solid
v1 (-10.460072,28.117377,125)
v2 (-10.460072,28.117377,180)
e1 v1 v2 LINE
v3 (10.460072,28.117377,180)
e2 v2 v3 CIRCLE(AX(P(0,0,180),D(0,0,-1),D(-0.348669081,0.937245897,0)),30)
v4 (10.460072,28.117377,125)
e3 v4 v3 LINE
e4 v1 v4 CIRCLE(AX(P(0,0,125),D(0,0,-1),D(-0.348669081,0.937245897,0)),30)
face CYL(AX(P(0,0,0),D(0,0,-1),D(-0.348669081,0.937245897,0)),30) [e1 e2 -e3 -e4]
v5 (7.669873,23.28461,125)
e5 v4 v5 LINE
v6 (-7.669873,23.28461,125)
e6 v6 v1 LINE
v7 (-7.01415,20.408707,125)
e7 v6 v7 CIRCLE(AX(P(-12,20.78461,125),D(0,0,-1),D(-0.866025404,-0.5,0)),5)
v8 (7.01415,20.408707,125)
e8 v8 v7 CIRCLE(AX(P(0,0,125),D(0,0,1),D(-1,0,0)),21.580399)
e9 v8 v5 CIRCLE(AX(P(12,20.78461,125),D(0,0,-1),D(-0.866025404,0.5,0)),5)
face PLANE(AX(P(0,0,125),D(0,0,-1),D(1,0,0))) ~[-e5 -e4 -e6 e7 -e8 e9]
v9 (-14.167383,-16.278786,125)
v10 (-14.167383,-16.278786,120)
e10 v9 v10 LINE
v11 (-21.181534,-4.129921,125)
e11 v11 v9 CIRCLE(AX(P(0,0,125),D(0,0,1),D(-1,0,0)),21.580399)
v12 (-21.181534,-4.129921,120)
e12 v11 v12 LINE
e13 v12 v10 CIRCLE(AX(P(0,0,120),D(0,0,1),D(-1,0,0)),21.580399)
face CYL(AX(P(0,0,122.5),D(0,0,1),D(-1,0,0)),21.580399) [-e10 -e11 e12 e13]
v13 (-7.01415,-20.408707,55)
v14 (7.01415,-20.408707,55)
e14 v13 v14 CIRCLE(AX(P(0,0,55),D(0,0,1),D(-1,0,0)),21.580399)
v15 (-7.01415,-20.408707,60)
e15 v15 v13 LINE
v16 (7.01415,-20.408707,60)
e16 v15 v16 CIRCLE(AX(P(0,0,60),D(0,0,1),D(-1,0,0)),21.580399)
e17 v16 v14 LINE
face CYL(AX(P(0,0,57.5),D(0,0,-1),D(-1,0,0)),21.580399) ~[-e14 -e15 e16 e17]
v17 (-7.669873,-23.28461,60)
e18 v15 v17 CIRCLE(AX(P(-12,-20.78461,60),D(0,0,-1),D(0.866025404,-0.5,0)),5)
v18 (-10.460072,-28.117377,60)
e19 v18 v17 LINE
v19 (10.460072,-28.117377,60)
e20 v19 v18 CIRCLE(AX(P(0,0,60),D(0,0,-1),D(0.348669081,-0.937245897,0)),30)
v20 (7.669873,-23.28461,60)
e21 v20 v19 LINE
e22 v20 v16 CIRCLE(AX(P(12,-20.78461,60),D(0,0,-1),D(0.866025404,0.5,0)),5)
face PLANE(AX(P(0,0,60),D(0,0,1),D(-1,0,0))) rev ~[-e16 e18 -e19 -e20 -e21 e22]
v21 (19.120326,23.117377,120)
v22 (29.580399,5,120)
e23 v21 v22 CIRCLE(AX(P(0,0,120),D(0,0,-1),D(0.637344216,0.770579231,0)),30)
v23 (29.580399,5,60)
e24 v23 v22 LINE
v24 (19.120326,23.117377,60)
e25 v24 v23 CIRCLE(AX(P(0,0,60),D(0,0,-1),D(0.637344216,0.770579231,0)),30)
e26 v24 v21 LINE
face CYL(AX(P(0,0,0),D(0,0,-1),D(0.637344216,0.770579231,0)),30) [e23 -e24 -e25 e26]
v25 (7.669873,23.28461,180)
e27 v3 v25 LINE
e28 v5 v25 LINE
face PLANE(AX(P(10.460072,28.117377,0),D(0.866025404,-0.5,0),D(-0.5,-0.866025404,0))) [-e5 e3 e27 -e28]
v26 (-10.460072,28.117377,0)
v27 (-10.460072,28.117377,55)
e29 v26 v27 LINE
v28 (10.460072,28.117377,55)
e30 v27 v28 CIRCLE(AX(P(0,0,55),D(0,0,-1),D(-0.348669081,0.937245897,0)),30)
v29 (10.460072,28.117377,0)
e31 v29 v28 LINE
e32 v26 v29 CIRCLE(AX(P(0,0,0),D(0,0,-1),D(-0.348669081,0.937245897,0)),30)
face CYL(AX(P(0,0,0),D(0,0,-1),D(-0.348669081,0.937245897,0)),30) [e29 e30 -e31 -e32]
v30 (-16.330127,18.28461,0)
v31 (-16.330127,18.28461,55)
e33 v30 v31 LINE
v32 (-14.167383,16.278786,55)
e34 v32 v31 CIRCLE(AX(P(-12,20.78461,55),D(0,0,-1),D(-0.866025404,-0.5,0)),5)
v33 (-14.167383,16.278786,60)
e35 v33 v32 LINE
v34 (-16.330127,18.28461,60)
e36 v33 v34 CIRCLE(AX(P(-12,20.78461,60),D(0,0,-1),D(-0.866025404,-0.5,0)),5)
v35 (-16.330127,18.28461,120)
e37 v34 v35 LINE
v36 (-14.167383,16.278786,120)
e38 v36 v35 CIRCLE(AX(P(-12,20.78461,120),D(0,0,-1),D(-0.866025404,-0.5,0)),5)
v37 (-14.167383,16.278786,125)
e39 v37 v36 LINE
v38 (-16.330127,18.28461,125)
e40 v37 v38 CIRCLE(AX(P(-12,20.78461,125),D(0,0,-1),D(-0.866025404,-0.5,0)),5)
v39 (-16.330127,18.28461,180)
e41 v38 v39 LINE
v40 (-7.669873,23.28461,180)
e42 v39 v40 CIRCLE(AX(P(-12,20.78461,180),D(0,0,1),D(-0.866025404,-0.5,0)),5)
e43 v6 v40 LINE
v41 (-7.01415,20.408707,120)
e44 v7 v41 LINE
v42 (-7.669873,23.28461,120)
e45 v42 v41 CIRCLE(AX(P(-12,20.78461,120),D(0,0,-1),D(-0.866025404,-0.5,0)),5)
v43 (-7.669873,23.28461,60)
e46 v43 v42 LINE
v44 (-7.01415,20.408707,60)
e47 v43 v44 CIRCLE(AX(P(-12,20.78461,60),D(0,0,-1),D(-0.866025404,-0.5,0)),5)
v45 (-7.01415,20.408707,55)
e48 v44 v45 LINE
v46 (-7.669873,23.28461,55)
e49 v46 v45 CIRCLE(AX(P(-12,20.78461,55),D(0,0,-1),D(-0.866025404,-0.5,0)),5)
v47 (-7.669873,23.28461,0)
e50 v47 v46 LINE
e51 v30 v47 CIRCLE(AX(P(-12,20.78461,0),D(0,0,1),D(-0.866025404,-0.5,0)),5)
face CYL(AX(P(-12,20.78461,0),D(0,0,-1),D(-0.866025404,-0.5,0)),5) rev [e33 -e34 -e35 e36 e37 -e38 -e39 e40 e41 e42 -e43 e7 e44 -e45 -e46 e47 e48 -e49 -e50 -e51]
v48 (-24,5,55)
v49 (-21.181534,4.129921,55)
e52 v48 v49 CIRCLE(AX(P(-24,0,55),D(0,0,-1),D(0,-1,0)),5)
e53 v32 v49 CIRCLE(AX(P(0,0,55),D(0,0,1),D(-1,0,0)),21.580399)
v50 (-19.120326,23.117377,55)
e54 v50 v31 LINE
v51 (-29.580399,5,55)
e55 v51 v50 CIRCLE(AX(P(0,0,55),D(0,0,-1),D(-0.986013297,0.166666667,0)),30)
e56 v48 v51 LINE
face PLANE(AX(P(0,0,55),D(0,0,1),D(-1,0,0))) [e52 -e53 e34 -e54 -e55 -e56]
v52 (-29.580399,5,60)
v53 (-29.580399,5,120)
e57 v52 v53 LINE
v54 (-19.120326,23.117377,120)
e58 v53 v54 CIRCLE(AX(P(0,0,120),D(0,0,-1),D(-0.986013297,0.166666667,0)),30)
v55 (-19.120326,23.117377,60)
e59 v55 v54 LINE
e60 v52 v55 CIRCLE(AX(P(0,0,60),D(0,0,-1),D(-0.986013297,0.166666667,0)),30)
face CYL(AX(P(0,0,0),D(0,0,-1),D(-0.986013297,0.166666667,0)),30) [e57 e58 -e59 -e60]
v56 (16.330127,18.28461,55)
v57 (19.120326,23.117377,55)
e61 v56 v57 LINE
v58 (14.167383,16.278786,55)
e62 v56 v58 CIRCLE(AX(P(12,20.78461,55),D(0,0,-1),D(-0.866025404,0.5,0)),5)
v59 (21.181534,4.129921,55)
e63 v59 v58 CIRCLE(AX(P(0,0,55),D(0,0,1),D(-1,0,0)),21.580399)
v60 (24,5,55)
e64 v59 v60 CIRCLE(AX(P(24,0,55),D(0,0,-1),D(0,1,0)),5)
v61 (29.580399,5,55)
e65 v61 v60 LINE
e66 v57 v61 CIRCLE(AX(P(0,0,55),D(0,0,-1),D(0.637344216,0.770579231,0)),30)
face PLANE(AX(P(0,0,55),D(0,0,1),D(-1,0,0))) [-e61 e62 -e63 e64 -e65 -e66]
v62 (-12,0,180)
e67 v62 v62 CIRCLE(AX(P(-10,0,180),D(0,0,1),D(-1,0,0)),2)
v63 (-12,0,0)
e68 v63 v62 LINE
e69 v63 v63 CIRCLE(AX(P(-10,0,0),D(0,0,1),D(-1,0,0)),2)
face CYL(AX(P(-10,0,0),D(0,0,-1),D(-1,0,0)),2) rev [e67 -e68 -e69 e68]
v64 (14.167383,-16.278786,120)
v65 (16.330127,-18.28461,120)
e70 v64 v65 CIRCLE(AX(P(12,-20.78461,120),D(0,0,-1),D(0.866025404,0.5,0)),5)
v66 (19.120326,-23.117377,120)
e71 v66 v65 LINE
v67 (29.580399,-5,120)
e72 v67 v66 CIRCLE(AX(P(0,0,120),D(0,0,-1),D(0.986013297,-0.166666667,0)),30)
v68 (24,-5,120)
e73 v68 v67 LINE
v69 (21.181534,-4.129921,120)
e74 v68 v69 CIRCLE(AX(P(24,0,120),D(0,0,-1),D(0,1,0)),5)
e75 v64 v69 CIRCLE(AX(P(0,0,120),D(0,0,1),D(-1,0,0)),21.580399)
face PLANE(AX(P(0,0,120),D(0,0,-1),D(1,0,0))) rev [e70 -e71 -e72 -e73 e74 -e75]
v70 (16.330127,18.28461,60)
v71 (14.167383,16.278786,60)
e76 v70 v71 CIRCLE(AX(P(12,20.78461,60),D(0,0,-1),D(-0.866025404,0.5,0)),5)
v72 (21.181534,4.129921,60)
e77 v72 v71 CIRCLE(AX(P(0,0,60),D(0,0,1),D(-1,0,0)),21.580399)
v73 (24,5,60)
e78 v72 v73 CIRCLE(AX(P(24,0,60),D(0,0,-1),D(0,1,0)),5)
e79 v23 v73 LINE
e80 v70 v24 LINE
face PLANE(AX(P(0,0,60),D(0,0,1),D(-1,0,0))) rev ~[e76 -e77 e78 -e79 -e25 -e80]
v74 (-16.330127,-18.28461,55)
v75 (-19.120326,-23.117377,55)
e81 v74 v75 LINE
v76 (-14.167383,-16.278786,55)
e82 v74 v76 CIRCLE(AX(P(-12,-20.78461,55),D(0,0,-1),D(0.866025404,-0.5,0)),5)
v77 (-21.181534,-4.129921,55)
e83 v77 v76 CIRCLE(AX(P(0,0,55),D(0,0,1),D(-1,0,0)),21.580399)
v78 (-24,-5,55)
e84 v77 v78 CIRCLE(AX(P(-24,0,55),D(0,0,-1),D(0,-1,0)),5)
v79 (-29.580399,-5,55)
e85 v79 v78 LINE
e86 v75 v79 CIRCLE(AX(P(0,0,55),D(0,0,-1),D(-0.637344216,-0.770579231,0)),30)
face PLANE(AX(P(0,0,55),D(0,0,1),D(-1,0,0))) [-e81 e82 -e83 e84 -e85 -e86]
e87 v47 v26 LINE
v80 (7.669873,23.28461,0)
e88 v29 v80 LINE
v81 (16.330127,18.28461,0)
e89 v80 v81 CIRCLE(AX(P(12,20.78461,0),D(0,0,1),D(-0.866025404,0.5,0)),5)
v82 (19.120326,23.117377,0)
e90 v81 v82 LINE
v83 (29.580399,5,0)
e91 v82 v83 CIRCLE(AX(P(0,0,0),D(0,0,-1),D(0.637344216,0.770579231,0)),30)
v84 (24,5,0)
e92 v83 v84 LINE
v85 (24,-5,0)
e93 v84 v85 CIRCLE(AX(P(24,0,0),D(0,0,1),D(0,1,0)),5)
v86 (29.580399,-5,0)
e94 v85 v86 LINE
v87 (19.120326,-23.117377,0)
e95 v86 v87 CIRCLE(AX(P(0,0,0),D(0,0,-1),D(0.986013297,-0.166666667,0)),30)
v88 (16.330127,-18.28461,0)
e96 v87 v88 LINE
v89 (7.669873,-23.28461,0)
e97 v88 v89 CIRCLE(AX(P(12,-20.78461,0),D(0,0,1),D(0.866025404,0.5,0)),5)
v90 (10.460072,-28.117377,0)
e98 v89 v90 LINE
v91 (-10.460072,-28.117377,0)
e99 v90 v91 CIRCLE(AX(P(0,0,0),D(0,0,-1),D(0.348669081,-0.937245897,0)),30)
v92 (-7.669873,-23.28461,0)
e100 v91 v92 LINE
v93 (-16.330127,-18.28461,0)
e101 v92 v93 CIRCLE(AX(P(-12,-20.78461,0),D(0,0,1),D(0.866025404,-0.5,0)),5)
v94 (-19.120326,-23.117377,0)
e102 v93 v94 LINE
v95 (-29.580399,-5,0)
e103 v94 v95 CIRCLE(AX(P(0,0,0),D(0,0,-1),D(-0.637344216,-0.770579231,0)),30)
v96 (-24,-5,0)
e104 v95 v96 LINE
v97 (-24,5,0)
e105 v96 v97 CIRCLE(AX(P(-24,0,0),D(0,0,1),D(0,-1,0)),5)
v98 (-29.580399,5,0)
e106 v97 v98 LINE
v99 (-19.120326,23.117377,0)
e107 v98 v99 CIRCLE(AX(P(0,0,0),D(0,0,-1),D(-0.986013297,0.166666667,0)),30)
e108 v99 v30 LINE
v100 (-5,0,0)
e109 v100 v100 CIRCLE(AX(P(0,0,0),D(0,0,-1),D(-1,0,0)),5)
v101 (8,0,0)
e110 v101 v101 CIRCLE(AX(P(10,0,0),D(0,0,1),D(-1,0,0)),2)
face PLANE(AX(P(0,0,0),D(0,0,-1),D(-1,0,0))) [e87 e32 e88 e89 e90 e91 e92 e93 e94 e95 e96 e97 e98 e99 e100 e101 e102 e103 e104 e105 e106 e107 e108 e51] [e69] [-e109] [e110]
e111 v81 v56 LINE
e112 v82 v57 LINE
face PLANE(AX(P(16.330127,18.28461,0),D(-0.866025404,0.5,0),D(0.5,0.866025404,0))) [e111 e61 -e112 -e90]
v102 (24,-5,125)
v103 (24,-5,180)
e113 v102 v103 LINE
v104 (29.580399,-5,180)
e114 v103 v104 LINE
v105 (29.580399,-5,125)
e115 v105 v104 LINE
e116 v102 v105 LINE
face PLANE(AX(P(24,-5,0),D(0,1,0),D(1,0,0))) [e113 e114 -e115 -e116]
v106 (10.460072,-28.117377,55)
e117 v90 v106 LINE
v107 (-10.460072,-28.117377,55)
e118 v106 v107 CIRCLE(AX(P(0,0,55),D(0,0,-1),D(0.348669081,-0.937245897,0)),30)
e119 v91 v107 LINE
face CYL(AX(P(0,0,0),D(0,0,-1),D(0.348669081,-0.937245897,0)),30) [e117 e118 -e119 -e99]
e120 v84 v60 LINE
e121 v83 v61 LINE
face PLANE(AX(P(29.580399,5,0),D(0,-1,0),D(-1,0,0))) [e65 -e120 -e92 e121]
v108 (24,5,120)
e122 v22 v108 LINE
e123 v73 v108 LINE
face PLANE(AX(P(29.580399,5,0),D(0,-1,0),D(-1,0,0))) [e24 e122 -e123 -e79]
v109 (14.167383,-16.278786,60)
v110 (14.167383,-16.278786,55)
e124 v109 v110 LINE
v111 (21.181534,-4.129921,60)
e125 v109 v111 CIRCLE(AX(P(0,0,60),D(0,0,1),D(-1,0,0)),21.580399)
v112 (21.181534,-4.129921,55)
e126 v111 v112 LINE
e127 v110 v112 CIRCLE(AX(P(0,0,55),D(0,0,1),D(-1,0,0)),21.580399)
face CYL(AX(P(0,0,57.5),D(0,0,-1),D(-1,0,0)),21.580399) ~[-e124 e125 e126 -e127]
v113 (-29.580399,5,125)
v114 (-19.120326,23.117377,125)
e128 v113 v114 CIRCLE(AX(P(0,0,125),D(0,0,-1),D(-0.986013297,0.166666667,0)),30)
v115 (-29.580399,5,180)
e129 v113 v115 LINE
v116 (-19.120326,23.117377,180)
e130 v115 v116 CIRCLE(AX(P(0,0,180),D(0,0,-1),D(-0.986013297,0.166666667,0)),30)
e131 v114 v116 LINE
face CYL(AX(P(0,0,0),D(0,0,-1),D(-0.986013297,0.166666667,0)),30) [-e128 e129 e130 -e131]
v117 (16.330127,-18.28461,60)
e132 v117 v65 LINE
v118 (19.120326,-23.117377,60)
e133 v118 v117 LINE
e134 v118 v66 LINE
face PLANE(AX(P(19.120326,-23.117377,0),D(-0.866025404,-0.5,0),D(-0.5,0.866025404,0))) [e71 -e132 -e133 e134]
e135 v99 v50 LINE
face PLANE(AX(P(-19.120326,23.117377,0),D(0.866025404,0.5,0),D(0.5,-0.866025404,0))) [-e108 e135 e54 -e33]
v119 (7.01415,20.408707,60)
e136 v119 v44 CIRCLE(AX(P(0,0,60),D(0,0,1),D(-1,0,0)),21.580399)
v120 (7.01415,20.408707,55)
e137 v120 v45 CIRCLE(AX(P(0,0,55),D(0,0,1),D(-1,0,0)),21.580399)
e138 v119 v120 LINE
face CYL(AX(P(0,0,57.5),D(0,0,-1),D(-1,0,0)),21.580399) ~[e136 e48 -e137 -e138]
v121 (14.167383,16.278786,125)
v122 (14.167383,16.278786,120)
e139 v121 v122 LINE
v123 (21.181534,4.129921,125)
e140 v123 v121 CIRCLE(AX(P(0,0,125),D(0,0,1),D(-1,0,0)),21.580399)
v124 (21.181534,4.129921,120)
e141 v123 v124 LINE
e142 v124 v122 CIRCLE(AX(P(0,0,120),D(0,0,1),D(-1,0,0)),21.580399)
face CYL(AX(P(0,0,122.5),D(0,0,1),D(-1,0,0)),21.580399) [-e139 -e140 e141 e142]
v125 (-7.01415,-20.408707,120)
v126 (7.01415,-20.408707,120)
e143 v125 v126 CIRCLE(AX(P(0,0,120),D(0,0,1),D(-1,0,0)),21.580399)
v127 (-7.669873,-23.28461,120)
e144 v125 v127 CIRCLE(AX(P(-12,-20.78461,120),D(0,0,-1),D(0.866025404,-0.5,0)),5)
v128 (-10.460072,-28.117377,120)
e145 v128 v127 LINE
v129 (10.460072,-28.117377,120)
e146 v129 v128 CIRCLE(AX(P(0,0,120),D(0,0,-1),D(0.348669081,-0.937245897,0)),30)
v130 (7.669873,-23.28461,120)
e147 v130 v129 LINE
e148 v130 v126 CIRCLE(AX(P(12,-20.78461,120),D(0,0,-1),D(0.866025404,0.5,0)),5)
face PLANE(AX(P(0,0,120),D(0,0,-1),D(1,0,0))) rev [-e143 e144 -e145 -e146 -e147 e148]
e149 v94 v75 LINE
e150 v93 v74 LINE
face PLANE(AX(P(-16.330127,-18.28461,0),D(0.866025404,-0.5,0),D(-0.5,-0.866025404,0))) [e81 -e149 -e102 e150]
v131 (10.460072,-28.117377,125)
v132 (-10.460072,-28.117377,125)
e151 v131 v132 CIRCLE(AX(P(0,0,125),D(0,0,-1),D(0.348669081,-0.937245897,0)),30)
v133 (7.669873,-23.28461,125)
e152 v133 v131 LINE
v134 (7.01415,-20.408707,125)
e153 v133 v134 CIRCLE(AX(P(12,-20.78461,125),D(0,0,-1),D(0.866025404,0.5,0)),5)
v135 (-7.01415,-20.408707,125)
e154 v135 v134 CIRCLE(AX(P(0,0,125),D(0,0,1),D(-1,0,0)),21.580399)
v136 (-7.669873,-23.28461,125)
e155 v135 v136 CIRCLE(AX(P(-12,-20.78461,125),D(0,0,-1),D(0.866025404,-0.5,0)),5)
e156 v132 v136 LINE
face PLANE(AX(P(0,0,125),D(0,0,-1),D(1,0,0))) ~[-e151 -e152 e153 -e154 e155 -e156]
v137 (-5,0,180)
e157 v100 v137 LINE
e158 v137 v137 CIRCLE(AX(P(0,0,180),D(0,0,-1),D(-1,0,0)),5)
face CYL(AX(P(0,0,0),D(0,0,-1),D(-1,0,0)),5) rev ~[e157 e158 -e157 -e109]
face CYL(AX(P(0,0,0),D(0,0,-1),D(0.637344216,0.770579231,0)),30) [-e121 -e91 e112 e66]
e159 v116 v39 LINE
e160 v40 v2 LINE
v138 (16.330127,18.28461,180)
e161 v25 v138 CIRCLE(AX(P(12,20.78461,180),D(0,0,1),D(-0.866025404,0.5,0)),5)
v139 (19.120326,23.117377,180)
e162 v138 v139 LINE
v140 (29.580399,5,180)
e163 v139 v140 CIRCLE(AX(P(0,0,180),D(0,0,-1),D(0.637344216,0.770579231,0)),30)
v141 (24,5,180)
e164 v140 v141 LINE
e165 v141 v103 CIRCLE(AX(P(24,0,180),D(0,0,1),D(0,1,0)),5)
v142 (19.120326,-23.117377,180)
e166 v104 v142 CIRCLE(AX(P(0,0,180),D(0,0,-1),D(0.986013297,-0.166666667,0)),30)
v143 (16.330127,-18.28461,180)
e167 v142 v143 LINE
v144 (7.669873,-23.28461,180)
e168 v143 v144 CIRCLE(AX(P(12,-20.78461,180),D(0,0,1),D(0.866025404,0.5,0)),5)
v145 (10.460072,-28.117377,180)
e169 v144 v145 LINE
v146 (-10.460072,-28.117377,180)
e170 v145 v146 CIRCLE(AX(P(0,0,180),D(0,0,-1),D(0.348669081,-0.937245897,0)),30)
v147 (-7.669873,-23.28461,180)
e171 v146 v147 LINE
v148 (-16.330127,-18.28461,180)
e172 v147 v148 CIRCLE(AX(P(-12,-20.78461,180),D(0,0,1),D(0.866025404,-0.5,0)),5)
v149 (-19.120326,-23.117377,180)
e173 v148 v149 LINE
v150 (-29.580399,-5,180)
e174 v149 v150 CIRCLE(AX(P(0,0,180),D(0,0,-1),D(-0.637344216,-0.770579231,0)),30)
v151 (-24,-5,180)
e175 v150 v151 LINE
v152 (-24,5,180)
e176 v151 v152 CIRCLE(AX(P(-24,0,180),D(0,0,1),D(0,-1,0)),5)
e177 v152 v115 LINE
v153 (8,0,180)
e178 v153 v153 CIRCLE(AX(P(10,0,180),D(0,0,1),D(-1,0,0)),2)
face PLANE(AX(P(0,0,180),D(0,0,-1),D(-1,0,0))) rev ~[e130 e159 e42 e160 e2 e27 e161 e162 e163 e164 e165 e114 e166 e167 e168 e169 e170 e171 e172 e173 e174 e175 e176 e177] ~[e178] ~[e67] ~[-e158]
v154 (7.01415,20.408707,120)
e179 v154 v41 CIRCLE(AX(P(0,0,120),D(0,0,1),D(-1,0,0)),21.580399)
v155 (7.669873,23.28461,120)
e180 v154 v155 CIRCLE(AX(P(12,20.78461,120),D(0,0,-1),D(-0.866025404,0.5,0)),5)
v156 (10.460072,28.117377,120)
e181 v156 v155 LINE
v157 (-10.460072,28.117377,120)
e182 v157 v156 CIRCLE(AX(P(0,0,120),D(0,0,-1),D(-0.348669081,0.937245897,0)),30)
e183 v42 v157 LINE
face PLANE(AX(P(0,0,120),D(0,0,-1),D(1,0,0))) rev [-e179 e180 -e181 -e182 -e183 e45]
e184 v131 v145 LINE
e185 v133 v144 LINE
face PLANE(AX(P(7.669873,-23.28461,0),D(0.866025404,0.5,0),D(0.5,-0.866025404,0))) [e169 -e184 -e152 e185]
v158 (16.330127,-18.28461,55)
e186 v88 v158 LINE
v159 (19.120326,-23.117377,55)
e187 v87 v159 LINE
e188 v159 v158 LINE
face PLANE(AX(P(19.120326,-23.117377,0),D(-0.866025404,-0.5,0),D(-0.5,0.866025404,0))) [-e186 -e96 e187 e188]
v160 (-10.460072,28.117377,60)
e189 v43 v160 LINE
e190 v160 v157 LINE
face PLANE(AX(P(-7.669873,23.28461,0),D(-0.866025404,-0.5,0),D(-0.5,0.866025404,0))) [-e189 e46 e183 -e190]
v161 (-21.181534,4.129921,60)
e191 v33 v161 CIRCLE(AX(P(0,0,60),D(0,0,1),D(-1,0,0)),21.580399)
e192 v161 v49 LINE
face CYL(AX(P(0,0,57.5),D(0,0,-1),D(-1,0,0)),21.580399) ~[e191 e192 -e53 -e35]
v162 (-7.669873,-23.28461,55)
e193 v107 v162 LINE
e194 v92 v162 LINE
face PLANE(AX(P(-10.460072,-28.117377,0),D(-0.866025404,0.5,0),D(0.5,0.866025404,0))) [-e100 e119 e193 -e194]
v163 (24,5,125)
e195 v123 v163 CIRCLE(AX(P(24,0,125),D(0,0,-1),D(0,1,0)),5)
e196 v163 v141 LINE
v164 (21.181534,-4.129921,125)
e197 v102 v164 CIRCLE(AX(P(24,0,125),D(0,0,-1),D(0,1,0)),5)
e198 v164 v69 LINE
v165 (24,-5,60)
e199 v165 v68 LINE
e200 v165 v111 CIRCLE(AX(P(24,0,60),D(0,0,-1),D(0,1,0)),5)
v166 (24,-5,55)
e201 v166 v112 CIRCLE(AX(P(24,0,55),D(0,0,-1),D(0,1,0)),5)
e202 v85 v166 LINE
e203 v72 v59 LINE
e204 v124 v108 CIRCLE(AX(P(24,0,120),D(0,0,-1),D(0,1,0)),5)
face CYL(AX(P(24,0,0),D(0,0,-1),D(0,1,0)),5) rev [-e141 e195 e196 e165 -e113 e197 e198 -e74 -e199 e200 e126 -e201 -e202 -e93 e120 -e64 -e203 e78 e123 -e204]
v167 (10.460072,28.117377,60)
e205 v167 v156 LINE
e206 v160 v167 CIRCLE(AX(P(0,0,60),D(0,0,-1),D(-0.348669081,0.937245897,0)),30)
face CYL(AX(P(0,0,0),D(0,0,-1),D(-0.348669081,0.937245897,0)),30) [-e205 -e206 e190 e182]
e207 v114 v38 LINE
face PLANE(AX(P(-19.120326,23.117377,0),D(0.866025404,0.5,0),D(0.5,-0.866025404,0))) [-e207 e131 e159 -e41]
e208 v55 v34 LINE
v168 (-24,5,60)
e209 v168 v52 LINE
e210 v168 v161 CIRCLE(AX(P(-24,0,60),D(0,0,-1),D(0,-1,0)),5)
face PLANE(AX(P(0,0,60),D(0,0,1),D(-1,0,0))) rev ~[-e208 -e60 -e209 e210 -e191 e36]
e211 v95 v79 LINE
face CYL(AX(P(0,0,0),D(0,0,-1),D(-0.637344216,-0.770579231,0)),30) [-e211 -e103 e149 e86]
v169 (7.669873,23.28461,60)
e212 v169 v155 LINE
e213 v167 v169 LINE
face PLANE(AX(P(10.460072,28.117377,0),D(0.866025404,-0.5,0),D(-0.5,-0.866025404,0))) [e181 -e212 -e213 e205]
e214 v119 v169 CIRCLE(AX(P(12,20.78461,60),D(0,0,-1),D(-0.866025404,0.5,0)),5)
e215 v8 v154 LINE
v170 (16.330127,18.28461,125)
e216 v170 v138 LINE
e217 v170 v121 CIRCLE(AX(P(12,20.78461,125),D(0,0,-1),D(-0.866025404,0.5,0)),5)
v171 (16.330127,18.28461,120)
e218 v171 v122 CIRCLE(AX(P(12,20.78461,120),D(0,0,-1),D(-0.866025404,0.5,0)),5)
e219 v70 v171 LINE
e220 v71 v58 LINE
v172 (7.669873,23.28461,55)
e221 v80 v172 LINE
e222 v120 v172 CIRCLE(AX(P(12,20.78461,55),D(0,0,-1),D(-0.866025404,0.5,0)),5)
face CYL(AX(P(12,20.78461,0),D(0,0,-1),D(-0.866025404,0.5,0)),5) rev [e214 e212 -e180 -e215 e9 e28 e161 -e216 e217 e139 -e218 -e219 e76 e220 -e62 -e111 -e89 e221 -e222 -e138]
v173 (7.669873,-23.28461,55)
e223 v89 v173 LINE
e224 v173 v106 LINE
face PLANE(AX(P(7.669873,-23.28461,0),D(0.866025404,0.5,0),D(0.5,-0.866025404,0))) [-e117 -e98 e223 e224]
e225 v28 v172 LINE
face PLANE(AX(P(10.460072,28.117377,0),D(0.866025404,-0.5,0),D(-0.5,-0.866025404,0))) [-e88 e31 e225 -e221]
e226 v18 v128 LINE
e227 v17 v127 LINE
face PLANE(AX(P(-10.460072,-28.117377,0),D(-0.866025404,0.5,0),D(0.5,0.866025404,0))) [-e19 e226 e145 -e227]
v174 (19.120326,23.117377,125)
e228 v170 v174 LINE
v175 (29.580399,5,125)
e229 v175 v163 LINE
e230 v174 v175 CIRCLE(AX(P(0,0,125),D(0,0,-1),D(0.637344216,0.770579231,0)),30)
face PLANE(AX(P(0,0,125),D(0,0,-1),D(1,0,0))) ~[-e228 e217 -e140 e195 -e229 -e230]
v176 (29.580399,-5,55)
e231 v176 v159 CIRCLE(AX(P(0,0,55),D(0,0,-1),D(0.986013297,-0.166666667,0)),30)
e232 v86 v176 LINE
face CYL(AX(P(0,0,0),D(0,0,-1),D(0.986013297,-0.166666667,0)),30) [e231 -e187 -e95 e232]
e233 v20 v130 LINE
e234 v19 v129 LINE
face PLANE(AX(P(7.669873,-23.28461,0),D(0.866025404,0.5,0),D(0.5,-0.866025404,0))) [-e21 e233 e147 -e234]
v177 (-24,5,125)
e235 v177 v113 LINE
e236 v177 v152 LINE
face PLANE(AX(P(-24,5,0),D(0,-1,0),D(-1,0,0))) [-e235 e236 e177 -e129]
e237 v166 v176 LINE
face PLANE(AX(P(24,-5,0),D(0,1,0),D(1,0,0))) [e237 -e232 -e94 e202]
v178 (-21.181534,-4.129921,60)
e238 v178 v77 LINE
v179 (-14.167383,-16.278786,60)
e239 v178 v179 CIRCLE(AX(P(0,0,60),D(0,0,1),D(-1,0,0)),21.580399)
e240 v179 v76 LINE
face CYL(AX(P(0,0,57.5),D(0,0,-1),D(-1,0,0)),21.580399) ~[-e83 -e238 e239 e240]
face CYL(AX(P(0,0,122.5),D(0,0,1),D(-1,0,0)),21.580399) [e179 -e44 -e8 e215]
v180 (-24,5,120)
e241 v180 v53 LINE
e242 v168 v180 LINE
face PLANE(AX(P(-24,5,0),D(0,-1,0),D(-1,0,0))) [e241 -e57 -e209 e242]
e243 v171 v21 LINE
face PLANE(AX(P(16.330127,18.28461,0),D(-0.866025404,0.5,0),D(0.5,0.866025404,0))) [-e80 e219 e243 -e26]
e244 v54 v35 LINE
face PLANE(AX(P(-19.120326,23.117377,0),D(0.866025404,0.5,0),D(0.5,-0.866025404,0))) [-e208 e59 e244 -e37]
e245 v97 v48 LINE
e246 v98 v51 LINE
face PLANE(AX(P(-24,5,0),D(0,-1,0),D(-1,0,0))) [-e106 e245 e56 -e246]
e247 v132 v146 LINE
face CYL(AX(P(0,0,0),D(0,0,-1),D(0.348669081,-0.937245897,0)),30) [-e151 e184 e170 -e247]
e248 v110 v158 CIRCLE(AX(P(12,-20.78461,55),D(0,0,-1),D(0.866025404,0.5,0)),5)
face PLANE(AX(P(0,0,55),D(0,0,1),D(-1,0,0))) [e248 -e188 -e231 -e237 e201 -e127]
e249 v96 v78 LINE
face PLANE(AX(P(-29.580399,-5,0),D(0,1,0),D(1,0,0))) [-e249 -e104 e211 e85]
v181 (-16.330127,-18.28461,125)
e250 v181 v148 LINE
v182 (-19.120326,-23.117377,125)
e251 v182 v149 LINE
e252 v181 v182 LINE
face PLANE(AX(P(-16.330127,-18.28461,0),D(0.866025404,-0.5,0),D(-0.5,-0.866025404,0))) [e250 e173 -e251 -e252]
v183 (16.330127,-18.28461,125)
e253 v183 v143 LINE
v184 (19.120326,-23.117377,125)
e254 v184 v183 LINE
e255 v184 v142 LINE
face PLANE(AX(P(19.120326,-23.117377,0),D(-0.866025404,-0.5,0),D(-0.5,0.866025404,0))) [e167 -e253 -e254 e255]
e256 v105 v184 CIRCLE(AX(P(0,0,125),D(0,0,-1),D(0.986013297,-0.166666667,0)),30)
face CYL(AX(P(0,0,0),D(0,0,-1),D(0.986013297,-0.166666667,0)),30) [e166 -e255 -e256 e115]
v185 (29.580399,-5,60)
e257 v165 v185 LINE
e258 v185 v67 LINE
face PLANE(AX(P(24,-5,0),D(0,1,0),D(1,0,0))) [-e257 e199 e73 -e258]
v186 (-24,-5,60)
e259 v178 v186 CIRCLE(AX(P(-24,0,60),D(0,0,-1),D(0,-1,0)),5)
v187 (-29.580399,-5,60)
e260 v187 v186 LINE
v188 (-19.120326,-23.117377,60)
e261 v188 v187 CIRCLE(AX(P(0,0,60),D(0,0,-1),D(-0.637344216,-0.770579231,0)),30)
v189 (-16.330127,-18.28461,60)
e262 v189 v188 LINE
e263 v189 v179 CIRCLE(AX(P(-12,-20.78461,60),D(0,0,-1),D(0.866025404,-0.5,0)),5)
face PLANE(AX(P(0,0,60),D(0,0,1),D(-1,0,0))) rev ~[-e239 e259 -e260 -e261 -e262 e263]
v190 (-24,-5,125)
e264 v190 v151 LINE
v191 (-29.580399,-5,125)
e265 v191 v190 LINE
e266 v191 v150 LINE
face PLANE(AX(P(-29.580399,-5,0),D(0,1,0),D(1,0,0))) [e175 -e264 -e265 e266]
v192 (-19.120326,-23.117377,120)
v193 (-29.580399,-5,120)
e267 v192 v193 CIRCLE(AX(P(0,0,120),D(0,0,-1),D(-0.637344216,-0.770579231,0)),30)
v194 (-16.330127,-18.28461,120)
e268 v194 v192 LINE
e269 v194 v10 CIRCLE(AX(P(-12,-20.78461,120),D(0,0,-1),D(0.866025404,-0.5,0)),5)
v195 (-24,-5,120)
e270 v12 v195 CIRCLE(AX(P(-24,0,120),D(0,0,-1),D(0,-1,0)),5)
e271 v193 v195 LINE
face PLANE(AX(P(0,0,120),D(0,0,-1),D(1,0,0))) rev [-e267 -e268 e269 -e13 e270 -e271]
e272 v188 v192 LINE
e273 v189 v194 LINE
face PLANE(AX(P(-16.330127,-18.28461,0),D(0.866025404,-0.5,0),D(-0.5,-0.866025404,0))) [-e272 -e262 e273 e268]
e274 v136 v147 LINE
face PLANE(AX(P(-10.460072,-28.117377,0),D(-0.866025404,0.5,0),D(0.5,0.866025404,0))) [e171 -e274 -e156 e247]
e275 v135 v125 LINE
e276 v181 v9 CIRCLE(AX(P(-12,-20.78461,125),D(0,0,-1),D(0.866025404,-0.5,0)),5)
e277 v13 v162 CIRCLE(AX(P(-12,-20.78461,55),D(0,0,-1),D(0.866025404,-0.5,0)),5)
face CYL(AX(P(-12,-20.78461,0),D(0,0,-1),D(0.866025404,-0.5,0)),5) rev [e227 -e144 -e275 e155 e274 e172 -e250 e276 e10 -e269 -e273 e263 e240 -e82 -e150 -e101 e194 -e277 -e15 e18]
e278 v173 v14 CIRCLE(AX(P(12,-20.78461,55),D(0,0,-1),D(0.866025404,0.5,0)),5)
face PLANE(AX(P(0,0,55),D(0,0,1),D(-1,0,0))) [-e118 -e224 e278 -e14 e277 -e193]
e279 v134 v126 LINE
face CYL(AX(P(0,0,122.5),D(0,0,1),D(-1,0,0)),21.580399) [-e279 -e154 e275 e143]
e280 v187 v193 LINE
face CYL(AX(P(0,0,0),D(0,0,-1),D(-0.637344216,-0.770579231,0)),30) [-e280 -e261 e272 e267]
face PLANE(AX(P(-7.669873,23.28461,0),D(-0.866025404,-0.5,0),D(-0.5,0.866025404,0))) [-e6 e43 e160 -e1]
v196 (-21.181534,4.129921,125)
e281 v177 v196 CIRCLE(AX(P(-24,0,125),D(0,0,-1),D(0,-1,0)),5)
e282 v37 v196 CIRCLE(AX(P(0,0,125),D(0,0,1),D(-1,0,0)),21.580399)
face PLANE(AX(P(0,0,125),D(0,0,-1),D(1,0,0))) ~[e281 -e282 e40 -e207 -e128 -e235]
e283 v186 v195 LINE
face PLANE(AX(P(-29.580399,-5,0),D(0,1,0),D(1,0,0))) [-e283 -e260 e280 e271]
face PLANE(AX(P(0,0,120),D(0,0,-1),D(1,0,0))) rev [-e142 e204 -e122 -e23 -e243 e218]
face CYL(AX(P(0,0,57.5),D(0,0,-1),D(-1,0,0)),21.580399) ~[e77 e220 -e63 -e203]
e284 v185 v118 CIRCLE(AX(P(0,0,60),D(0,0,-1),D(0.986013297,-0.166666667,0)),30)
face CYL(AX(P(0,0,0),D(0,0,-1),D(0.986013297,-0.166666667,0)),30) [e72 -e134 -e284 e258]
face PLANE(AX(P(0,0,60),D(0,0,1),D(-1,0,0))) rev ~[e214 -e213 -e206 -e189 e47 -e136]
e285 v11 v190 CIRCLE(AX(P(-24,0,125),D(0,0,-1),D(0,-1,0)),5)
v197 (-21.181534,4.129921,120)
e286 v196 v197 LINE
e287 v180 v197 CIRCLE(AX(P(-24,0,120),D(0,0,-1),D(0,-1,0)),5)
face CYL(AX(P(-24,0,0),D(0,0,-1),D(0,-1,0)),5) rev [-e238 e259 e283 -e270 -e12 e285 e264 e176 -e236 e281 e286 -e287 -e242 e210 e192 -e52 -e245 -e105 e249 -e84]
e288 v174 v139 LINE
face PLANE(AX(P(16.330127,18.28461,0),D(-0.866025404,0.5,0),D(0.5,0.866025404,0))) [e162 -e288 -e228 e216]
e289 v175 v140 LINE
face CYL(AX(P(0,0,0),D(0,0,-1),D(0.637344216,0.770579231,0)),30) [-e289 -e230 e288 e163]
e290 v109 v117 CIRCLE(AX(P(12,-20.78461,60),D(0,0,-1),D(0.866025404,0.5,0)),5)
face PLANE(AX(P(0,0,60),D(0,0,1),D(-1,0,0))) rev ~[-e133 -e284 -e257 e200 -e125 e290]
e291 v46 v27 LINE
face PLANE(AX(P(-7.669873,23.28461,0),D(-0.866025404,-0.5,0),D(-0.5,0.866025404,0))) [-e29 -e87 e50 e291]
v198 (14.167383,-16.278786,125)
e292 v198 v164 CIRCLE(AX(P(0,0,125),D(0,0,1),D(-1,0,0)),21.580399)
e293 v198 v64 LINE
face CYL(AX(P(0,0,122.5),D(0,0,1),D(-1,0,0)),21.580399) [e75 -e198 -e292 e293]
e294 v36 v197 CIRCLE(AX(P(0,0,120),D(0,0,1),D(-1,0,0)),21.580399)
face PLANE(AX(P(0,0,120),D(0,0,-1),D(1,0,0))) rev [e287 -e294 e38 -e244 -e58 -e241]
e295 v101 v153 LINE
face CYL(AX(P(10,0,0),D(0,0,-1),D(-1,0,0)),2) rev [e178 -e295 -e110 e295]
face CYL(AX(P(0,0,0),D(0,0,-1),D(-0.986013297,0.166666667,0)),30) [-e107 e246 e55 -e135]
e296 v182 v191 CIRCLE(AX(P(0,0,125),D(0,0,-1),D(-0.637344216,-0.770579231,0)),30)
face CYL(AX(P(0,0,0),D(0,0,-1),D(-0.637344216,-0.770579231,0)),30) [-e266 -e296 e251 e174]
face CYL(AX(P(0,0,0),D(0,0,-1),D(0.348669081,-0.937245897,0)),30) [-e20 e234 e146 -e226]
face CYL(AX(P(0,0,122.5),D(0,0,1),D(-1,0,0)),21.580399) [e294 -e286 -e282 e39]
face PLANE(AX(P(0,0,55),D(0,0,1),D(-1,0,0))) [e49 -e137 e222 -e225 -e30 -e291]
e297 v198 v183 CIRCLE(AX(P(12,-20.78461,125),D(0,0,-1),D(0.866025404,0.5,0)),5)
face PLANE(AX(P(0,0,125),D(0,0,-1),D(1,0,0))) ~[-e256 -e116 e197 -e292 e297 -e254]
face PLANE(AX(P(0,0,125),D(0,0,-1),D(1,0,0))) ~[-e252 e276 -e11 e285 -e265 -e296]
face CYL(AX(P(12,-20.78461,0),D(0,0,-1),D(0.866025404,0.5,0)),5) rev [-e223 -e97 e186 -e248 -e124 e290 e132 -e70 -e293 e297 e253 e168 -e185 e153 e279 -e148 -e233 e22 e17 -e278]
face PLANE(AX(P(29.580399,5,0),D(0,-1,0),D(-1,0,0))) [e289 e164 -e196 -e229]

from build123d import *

# Parameters (mm, degrees)
SKETCH_1_R          = 2
EXTRUDE_1_DEPTH     = 180
SKETCH_2_R          = 5
CUT_EXTRUDE_1_DEPTH = 180
SKETCH_3_W          = 11.661291253
SKETCH_3_H          = 5


with BuildPart() as part:
    # 草图1 → 凸台-拉伸1 (new body)
    with BuildSketch(Plane.XY):
        with BuildLine():
            Line((-24, 5), (-29.580398915, 5))
            ThreePointArc((-29.580398915, 5), (-25.980762114, 15), (-19.120326477, 23.117376915))
            Line((-19.120326477, 23.117376915), (-16.330127019, 18.284609691))
            ThreePointArc((-16.330127019, 18.284609691), (-9.5, 16.454482672), (-7.669872981, 23.284609691))
            Line((-7.669872981, 23.284609691), (-10.460072439, 28.117376915))
            ThreePointArc((-10.460072439, 28.117376915), (0, 30), (10.460072439, 28.117376915))
            Line((10.460072439, 28.117376915), (7.669872981, 23.284609691))
            ThreePointArc((7.669872981, 23.284609691), (9.5, 16.454482672), (16.330127019, 18.284609691))
            Line((16.330127019, 18.284609691), (19.120326477, 23.117376915))
            ThreePointArc((19.120326477, 23.117376915), (25.980762114, 15), (29.580398915, 5))
            Line((29.580398915, 5), (24, 5))
            ThreePointArc((24, 5), (19, 0), (24, -5))
            Line((24, -5), (29.580398915, -5))
            ThreePointArc((29.580398915, -5), (25.980762114, -15), (19.120326477, -23.117376915))
            Line((19.120326477, -23.117376915), (16.330127019, -18.284609691))
            ThreePointArc((16.330127019, -18.284609691), (9.5, -16.454482672), (7.669872981, -23.284609691))
            Line((7.669872981, -23.284609691), (10.460072439, -28.117376915))
            ThreePointArc((10.460072439, -28.117376915), (0, -30), (-10.460072439, -28.117376915))
            Line((-10.460072439, -28.117376915), (-7.669872981, -23.284609691))
            ThreePointArc((-7.669872981, -23.284609691), (-9.5, -16.454482672), (-16.330127019, -18.284609691))
            Line((-16.330127019, -18.284609691), (-19.120326477, -23.117376915))
            ThreePointArc((-19.120326477, -23.117376915), (-25.980762114, -15), (-29.580398915, -5))
            Line((-29.580398915, -5), (-24, -5))
            ThreePointArc((-24, -5), (-19, 0), (-24, 5))
        make_face()
        with Locations((-10, 0)):
            Circle(SKETCH_1_R, mode=Mode.SUBTRACT)
        with Locations((10, 0)):
            Circle(SKETCH_1_R, mode=Mode.SUBTRACT)
    extrude(amount=EXTRUDE_1_DEPTH)

    # 草图2 → 切除-拉伸1 (cut)
    with BuildSketch(Plane(origin=(0, 0, 0), x_dir=(-1, 0, 0), z_dir=(0, 0, -1))):
        Circle(SKETCH_2_R)
    extrude(amount=-CUT_EXTRUDE_1_DEPTH, mode=Mode.SUBTRACT)

    # 草图3 → 切除-旋转1 (revolve, cut)
    with BuildSketch(Plane(origin=(0, 0, 0), x_dir=(1, 0, 0), z_dir=(0, 1, 0))):
        with Locations((-27.411044542, -57.5)):
            Rectangle(SKETCH_3_W, SKETCH_3_H)
    cut_revolve_1 = revolve(axis=Axis((0, 0, -56.149742432), (0, 0, 1)), mode=Mode.SUBTRACT)

    # 镜向1: 切除-旋转1 across plane
    add(cut_revolve_1.mirror(Plane.XY.offset(90)), mode=Mode.SUBTRACT)


solid = part.part
